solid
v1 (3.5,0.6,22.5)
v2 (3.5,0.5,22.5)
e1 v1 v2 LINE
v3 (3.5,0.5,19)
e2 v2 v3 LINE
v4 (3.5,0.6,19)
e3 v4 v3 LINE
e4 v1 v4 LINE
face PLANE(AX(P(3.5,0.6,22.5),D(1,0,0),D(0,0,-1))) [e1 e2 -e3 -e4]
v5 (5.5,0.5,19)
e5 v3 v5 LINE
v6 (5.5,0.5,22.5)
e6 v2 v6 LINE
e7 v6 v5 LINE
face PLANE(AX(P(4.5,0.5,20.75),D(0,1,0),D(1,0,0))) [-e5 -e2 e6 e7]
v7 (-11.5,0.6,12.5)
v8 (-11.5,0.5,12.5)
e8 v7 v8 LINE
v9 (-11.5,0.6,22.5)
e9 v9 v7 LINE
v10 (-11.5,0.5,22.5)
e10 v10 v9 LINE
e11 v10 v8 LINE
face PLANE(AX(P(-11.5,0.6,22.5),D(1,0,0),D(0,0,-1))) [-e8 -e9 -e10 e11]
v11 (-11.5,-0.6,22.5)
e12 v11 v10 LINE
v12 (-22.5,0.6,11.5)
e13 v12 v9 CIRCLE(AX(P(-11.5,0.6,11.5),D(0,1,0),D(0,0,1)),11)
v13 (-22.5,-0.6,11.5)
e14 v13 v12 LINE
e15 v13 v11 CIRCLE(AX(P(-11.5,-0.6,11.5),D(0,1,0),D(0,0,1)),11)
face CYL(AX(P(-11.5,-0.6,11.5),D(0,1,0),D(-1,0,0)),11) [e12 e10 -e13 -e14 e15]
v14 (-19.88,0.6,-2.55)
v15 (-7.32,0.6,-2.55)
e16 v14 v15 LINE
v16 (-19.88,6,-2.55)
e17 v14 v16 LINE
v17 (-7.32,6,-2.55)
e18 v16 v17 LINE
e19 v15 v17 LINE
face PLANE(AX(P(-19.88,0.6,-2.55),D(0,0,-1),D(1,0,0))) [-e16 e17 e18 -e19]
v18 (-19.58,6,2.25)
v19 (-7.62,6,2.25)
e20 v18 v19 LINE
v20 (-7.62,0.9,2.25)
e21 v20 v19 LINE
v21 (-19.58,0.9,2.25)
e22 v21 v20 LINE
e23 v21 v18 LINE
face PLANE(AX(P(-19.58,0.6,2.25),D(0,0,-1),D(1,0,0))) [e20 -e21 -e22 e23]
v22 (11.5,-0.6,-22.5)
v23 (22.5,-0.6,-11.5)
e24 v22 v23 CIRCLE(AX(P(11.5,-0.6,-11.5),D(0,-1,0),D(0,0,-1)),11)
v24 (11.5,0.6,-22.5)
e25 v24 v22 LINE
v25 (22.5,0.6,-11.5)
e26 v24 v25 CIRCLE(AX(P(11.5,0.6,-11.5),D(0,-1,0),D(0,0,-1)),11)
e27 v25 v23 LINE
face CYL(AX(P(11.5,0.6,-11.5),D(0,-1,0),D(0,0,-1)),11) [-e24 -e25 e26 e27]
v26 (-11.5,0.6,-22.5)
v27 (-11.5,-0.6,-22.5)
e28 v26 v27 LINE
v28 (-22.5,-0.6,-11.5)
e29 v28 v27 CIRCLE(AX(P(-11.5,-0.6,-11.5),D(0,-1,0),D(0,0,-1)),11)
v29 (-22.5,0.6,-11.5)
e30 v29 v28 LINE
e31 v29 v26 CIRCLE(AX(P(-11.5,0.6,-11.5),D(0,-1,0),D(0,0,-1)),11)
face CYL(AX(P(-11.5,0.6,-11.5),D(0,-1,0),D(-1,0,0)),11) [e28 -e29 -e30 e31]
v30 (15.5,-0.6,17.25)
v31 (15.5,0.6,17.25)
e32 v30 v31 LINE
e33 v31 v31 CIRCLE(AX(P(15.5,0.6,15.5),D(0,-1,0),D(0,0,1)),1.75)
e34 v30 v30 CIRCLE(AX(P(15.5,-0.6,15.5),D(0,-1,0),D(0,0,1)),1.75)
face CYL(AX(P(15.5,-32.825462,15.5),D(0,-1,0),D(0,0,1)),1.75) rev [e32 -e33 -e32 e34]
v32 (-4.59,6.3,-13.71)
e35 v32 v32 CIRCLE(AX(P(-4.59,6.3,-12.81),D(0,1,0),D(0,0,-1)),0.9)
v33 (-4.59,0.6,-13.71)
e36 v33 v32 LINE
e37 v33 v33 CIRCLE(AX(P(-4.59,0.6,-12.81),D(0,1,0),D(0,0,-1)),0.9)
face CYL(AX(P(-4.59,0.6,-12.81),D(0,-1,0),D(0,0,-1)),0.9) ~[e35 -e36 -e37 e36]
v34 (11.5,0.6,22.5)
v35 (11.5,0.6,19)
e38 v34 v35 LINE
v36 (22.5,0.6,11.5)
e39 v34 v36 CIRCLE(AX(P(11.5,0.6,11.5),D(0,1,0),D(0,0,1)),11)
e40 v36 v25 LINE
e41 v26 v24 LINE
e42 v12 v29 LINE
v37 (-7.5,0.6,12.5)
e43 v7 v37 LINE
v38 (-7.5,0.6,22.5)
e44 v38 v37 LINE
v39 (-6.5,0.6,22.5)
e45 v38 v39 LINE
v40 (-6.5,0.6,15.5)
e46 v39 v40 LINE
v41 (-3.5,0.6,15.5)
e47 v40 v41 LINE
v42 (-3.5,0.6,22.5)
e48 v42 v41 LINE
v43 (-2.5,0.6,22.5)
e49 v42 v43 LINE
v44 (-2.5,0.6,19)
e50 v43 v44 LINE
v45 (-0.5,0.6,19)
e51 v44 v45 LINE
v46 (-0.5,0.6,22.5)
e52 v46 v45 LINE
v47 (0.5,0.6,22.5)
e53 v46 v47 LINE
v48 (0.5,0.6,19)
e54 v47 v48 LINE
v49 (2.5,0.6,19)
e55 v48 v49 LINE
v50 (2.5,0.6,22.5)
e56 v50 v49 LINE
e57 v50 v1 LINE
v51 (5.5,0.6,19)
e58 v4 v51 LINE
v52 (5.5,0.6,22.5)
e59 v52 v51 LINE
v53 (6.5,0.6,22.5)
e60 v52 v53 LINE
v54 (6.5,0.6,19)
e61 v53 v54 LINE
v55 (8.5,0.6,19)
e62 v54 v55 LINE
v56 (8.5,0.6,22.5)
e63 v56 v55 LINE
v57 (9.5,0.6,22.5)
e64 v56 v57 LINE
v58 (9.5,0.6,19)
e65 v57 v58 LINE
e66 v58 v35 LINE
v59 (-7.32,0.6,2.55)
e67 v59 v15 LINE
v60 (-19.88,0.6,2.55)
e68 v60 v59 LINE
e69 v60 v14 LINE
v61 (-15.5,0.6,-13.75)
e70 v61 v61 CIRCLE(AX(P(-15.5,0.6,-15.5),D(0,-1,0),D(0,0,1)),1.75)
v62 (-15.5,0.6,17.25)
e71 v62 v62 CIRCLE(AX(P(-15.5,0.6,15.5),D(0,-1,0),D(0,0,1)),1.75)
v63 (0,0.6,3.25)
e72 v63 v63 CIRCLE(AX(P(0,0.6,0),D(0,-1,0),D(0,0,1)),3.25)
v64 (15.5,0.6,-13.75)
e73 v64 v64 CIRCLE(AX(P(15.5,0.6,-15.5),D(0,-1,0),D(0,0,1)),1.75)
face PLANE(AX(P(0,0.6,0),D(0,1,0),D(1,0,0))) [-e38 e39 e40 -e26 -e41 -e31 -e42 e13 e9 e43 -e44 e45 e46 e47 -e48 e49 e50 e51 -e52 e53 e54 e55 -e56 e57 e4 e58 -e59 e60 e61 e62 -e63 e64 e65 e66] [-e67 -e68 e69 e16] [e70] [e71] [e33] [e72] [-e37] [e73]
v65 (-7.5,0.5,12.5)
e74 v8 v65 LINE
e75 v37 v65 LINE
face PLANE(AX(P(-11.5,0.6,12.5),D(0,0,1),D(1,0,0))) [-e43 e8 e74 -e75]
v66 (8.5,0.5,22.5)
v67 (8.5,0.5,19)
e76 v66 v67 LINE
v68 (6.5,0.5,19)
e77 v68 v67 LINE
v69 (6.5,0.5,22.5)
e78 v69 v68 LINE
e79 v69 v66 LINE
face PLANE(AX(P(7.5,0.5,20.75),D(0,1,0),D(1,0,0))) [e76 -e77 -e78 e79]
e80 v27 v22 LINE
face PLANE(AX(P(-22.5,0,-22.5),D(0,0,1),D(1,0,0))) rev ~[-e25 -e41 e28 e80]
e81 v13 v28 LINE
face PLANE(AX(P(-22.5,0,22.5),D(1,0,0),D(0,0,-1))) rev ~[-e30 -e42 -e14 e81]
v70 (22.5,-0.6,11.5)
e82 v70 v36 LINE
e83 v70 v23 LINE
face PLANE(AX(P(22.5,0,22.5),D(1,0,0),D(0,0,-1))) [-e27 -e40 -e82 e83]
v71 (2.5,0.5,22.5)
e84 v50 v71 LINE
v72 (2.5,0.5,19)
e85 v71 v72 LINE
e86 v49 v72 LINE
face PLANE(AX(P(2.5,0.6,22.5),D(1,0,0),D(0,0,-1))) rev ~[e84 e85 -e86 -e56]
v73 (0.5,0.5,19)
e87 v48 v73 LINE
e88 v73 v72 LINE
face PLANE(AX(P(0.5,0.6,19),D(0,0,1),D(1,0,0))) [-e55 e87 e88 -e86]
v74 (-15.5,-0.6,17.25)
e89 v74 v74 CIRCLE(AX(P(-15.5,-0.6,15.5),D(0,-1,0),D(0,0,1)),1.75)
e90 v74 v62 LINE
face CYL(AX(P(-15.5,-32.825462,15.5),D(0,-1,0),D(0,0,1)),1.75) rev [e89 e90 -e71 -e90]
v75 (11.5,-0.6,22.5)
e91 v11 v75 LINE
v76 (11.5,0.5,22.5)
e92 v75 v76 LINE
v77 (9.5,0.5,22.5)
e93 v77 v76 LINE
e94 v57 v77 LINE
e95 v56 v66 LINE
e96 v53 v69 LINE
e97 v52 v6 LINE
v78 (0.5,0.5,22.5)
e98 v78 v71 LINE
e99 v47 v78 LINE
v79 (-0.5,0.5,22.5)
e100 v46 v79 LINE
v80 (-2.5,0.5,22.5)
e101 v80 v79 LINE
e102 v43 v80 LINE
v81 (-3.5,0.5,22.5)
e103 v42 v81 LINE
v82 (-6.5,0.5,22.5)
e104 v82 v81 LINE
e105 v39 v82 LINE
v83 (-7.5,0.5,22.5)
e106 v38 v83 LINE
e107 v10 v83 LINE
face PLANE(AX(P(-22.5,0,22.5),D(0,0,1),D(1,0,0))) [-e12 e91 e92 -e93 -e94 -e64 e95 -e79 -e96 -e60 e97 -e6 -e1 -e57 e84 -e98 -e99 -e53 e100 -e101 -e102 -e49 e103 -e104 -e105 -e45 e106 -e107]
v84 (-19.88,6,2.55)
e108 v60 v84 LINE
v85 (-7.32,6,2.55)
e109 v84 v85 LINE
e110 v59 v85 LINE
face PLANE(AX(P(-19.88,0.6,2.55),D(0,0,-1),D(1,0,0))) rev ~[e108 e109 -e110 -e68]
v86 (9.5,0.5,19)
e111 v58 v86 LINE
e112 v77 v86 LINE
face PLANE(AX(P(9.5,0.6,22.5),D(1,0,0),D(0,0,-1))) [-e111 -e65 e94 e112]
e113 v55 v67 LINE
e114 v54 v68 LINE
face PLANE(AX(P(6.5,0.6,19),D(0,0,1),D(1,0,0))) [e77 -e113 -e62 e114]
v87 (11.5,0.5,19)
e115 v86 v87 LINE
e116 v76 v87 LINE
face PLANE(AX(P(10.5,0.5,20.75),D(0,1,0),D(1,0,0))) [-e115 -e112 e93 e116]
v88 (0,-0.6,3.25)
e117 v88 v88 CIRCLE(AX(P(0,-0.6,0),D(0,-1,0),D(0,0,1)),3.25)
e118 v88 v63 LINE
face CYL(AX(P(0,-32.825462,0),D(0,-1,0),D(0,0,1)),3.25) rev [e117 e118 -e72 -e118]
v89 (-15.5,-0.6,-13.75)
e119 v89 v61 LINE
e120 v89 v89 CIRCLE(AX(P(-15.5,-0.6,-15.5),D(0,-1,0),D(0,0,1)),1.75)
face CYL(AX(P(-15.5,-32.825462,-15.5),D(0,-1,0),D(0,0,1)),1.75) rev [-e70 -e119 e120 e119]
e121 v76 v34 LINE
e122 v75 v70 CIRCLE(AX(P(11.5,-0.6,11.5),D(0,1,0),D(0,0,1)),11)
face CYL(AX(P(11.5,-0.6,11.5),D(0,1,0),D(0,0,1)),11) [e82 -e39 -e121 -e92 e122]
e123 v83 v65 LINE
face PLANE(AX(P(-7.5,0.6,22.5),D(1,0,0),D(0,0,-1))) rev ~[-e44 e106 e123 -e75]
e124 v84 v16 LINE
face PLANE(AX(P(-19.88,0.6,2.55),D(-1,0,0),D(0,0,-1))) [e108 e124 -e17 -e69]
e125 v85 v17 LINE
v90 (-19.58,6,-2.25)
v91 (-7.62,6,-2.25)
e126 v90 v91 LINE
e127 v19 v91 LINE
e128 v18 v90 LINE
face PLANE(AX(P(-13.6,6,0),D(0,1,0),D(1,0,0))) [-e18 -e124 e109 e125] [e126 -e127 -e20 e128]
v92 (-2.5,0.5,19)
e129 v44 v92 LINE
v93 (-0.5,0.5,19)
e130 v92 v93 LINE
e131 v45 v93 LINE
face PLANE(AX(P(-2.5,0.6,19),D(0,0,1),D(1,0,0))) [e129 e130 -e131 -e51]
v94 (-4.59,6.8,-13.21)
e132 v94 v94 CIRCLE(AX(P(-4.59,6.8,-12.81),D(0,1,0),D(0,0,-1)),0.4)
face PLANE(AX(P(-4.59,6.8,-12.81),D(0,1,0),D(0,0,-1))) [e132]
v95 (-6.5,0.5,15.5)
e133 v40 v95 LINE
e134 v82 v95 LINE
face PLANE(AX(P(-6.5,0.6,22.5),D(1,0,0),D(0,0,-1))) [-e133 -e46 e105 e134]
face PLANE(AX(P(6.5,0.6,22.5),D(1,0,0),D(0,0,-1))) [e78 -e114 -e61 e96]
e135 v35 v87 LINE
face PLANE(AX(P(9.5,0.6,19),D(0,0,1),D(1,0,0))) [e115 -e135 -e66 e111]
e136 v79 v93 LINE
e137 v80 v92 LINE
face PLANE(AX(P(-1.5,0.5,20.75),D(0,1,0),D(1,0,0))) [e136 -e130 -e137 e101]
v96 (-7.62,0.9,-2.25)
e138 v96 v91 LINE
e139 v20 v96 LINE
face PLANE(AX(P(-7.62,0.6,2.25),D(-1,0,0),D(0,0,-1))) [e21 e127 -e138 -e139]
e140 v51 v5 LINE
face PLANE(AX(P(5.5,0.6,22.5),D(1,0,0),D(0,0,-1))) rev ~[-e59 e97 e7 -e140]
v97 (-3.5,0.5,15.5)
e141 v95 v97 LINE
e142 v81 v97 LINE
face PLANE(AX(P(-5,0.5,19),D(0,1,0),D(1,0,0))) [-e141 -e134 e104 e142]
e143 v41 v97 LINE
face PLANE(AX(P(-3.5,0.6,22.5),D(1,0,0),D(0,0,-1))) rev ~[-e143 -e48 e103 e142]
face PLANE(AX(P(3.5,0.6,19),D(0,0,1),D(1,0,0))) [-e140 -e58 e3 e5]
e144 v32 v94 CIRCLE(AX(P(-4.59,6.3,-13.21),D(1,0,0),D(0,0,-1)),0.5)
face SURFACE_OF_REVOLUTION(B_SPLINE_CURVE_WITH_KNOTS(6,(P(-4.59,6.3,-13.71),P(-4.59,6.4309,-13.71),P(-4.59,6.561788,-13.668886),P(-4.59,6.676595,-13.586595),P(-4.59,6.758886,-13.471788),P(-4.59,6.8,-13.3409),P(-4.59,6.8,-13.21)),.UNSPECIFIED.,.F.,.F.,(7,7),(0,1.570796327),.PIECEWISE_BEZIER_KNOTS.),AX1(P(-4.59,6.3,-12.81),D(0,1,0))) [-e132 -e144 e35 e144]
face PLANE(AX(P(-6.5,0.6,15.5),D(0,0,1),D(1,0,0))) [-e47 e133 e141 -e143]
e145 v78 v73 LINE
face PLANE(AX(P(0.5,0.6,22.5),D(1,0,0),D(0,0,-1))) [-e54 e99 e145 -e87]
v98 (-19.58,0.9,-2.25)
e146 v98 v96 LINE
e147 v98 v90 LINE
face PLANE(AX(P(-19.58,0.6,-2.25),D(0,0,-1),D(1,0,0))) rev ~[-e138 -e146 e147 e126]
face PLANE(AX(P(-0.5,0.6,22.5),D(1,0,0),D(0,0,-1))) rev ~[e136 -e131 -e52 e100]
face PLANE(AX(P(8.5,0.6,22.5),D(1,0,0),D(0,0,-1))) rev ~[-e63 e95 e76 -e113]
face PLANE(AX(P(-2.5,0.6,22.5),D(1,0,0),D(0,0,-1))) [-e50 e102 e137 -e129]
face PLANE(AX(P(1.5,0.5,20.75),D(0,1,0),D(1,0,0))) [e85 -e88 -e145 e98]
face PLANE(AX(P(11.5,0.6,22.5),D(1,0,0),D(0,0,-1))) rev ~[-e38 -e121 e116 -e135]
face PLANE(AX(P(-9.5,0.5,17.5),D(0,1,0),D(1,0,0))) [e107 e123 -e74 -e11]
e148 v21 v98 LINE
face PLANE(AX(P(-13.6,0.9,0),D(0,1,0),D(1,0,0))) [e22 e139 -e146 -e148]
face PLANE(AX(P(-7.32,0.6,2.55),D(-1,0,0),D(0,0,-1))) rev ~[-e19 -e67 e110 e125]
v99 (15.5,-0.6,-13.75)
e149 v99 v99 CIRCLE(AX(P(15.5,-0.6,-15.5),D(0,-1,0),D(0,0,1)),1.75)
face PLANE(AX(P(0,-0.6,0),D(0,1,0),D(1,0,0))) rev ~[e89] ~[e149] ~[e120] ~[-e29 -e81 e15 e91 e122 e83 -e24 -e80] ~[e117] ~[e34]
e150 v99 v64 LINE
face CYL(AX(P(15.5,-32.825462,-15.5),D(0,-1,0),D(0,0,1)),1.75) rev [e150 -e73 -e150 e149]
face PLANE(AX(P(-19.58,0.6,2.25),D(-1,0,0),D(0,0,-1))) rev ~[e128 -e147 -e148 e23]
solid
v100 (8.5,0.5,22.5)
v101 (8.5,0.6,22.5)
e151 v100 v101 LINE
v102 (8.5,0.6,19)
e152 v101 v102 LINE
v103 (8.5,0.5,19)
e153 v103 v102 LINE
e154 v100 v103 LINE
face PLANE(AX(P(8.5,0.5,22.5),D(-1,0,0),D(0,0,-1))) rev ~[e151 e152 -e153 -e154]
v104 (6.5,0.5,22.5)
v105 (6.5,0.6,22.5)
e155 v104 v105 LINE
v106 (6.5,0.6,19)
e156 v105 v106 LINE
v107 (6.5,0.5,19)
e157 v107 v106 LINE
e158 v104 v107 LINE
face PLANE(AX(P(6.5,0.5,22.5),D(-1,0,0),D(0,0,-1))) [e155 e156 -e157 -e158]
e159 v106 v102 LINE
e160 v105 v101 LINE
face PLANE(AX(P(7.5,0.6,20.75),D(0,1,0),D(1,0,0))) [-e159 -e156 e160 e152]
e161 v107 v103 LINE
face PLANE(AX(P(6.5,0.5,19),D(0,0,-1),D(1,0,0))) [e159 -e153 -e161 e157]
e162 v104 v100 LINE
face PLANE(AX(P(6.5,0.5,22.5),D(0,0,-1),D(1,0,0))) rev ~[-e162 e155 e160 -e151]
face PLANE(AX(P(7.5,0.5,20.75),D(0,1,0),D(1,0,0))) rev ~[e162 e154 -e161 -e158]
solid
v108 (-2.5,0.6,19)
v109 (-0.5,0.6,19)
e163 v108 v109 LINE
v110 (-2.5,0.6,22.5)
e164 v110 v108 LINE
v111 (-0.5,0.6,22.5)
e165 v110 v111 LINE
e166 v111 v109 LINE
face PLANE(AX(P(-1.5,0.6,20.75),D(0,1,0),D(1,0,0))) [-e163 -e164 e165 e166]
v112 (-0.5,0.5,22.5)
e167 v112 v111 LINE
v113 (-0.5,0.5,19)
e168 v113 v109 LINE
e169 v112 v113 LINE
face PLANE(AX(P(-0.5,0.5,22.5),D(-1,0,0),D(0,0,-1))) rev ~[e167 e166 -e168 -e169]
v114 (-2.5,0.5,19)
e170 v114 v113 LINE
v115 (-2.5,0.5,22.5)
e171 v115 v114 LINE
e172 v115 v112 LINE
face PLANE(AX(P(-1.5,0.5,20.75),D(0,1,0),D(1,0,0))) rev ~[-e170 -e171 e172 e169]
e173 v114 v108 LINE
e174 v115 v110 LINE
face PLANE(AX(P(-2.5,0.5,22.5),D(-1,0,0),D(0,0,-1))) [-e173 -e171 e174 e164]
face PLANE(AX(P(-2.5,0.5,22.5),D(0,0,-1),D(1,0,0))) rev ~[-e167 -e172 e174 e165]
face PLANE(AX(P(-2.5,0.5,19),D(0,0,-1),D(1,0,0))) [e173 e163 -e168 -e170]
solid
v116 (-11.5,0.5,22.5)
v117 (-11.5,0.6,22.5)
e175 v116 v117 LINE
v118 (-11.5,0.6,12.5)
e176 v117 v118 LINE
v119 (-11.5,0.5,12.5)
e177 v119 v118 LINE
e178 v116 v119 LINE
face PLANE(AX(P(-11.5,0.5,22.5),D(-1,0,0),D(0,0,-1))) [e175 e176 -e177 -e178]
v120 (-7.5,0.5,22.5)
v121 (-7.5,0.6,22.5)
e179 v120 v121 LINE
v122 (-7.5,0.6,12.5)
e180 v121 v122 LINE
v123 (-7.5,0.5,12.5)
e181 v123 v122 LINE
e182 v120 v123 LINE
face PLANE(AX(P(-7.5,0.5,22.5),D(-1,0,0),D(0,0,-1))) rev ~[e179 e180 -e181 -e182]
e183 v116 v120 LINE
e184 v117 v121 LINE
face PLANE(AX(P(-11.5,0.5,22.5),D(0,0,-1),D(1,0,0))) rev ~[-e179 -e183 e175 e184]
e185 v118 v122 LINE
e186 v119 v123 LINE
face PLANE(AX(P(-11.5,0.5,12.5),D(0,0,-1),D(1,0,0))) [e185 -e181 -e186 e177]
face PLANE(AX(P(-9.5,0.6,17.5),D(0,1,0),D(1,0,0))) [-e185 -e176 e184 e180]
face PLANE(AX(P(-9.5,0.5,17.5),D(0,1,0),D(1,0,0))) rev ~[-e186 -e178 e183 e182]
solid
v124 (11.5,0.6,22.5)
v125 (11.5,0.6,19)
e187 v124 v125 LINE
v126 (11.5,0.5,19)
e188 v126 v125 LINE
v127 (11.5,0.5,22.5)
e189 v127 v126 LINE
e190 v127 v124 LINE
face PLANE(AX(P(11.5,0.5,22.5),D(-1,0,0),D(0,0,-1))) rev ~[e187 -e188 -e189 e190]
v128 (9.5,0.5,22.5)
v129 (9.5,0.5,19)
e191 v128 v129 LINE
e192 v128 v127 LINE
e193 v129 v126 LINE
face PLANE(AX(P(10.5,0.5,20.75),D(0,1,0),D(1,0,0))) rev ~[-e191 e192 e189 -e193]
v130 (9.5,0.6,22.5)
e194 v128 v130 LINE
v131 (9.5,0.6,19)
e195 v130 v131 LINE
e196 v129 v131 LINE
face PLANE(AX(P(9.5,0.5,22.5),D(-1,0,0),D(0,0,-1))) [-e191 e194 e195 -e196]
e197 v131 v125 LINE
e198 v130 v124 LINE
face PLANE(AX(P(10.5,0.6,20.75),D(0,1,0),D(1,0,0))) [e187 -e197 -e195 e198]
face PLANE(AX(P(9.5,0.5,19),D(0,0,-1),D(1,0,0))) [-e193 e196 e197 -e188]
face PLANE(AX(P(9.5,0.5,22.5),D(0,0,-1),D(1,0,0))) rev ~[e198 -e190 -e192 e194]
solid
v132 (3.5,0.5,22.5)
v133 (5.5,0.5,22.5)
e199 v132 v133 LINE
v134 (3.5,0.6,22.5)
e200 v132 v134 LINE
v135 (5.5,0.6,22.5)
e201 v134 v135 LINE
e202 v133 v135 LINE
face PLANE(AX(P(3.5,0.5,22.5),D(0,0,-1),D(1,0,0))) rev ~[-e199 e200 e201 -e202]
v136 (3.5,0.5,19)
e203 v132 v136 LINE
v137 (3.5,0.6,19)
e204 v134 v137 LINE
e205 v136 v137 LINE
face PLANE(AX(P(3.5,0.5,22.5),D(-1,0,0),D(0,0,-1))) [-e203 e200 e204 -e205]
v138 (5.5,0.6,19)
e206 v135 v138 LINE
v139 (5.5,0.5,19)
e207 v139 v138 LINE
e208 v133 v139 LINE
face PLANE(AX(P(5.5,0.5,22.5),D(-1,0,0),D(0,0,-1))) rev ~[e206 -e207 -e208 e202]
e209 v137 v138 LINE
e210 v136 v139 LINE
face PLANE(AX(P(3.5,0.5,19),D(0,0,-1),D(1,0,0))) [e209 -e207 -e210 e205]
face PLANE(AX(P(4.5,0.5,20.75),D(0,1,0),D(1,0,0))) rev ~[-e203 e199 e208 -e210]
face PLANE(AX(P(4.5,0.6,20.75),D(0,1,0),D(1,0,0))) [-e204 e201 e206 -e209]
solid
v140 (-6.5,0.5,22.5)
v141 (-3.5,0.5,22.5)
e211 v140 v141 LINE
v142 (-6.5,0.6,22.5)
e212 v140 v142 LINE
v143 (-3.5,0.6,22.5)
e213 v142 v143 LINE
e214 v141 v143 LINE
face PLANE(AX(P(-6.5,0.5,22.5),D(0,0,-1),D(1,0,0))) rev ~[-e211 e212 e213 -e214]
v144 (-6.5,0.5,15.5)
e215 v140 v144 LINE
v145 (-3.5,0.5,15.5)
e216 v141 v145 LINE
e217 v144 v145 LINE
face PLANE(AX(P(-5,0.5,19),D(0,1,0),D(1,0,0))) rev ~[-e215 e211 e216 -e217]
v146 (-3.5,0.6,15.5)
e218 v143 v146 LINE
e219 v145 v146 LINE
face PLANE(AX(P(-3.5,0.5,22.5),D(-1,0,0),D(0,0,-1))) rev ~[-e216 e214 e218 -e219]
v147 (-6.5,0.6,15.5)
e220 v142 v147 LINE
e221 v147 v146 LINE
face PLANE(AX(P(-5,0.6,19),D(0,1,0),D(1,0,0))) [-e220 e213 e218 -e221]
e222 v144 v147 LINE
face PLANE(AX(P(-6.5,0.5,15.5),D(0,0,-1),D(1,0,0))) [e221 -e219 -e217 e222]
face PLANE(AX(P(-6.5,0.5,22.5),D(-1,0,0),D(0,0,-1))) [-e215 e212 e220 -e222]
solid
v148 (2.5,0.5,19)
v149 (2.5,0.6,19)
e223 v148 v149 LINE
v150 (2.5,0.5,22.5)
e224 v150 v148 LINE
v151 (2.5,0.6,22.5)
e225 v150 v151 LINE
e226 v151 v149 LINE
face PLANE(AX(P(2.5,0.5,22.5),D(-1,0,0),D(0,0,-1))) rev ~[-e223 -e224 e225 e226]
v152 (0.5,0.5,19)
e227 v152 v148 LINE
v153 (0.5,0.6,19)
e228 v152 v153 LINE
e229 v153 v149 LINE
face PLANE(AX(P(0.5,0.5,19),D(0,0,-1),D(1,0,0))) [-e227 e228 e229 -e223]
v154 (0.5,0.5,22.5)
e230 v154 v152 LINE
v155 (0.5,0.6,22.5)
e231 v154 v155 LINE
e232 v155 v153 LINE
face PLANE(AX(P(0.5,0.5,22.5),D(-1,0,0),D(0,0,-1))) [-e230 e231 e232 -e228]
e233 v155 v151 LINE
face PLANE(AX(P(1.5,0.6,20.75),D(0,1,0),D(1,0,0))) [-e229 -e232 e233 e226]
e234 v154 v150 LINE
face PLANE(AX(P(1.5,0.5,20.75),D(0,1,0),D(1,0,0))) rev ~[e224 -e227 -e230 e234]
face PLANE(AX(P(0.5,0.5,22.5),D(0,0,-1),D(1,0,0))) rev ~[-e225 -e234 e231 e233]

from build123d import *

# Parameters (mm, degrees)
SKETCH1_W               = 45
SKETCH1_H               = 45
BOSS_EXTRUDE1_DEPTH     = 0.6
CUT_EXTRUDE1_DEPTH      = 32.825461505
CUT_EXTRUDE1_DEPTH_BACK = 32.825461505
SKETCH3_R               = 3.25
FILLET1_R               = 11
CUT_EXTRUDE2_DEPTH      = 32.825461505
CUT_EXTRUDE2_DEPTH_BACK = 32.825461505
SKETCH5_R               = 1.75
SKETCH6_W               = 12.56
SKETCH6_H               = 5.1
SKETCH6_W_2             = 11.96
SKETCH6_H_2             = 4.5
EXTRUDE_THIN1_DEPTH     = 5.4
SKETCH7_W               = 11.96
SKETCH7_H               = 4.5
BOSS_EXTRUDE2_DEPTH     = 0.3
SKETCH8_W               = 2
SKETCH8_H               = 3.5
SKETCH8_W_2             = 4
SKETCH8_H_2             = 10
SKETCH8_W_3             = 3
SKETCH8_H_3             = 7
CUT_EXTRUDE3_DEPTH      = 0.1
SKETCH9_W               = 2
SKETCH9_H               = 3.5
BOSS_EXTRUDE3_DEPTH     = 0.1
BOSS_EXTRUDE3_2_DEPTH   = 0.1
BOSS_EXTRUDE3_3_DEPTH   = 0.1
BOSS_EXTRUDE3_4_DEPTH   = 0.1
BOSS_EXTRUDE3_5_DEPTH   = 0.1
SKETCH9_W_2             = 3
SKETCH9_H_2             = 7
BOSS_EXTRUDE3_6_DEPTH   = 0.1
SKETCH9_W_3             = 4
SKETCH9_H_3             = 10
BOSS_EXTRUDE3_7_DEPTH   = 0.1
SKETCH10_R              = 0.9
BOSS_EXTRUDE4_DEPTH     = 6.2
FILLET2_R               = 0.5


with BuildPart() as part:
    # Sketch1 → Boss-Extrude1 (new, symmetric)
    with BuildSketch(Plane(origin=(0, 0, 0), x_dir=(1, 0, 0), z_dir=(0, 1, 0))):
        Rectangle(SKETCH1_W, SKETCH1_H)
    extrude(amount=BOSS_EXTRUDE1_DEPTH, both=True)

    # Sketch3 → Cut-Extrude1 (cut, two sides: drawn at the far end of the back side and taken through both)
    with BuildSketch(Plane(origin=(0, 0, 0), x_dir=(1, 0, 0), z_dir=(0, 1, 0)).offset(-CUT_EXTRUDE1_DEPTH_BACK)):
        with Locations(Location((0, 0, 0), (0, 0, 270))):
            Circle(SKETCH3_R)
    extrude(amount=CUT_EXTRUDE1_DEPTH + CUT_EXTRUDE1_DEPTH_BACK, mode=Mode.SUBTRACT)

    # Fillet1
    fillet1_edges = [part.edges().sort_by_distance(p)[0] for p in [
        (22.5, 0, 22.5),
        (-22.5, 0, 22.5),
        (-22.5, 0, -22.5),
        (22.5, 0, -22.5),
    ]]
    fillet(fillet1_edges, radius=FILLET1_R)

    # Sketch5 → Cut-Extrude2 (cut, two sides: drawn at the far end of the back side and taken through both)
    with BuildSketch(Plane(origin=(0, 0, 0), x_dir=(1, 0, 0), z_dir=(0, 1, 0)).offset(-CUT_EXTRUDE2_DEPTH_BACK)):
        with Locations(Location((-15.5, 15.5, 0), (0, 0, 270))):
            Circle(SKETCH5_R)
        with Locations(Location((15.5, 15.5, 0), (0, 0, 270))):
            Circle(SKETCH5_R)
        with Locations(Location((15.5, -15.5, 0), (0, 0, 270))):
            Circle(SKETCH5_R)
        with Locations(Location((-15.5, -15.5, 0), (0, 0, 270))):
            Circle(SKETCH5_R)
    extrude(amount=CUT_EXTRUDE2_DEPTH + CUT_EXTRUDE2_DEPTH_BACK, mode=Mode.SUBTRACT)

    # Sketch6 → Extrude-Thin1 (add)
    with BuildSketch(Plane(origin=(0, 0.6, 0), x_dir=(1, 0, 0), z_dir=(0, 1, 0))):
        with Locations((-13.6, 0)):
            Rectangle(SKETCH6_W, SKETCH6_H)
        with Locations((-13.6, 0)):
            Rectangle(SKETCH6_W_2, SKETCH6_H_2, mode=Mode.SUBTRACT)
    extrude(amount=EXTRUDE_THIN1_DEPTH)

    # Sketch7 → Boss-Extrude2 (add)
    with BuildSketch(Plane(origin=(0, 0.6, 0), x_dir=(1, 0, 0), z_dir=(0, 1, 0))):
        with Locations((-13.6, 0)):
            Rectangle(SKETCH7_W, SKETCH7_H)
    extrude(amount=BOSS_EXTRUDE2_DEPTH)

    # Sketch8 → Cut-Extrude3 (cut)
    with BuildSketch(Plane(origin=(0, 0.6, 0), x_dir=(1, 0, 0), z_dir=(0, 1, 0))):
        with Locations((-1.5, -20.75)):
            Rectangle(SKETCH8_W, SKETCH8_H)
        with Locations((1.5, -20.75)):
            Rectangle(SKETCH8_W, SKETCH8_H)
        with Locations((4.5, -20.75)):
            Rectangle(SKETCH8_W, SKETCH8_H)
        with Locations((7.5, -20.75)):
            Rectangle(SKETCH8_W, SKETCH8_H)
        with Locations((10.5, -20.75)):
            Rectangle(SKETCH8_W, SKETCH8_H)
        with Locations((-9.5, -17.5)):
            Rectangle(SKETCH8_W_2, SKETCH8_H_2)
        with Locations((-5, -19)):
            Rectangle(SKETCH8_W_3, SKETCH8_H_3)
    extrude(amount=-CUT_EXTRUDE3_DEPTH, mode=Mode.SUBTRACT)

    # Sketch10 → Boss-Extrude4 (add)
    with BuildSketch(Plane(origin=(0, 0.6, 0), x_dir=(1, 0, 0), z_dir=(0, 1, 0))):
        with Locations(Location((-4.59, 12.81, 0), (0, 0, 90))):
            Circle(SKETCH10_R)
    extrude(amount=BOSS_EXTRUDE4_DEPTH)

    # Fillet2
    fillet2_edges = [part.edges().sort_by_distance(p)[0] for p in [
        (-4.59, 6.8, -11.91),
    ]]
    fillet(fillet2_edges, radius=FILLET2_R)


with BuildPart() as body_2:
    # Sketch9 → Boss-Extrude3 (new body)
    with BuildSketch(Plane(origin=(0, 0.5, 0), x_dir=(1, 0, 0), z_dir=(0, 1, 0))):
        with Locations((10.5, -20.75)):
            Rectangle(SKETCH9_W, SKETCH9_H)
    extrude(amount=BOSS_EXTRUDE3_DEPTH)


with BuildPart() as body_3:
    # Sketch9 → Boss-Extrude3 2 (new body)
    with BuildSketch(Plane(origin=(0, 0.5, 0), x_dir=(1, 0, 0), z_dir=(0, 1, 0))):
        with Locations((7.5, -20.75)):
            Rectangle(SKETCH9_W, SKETCH9_H)
    extrude(amount=BOSS_EXTRUDE3_2_DEPTH)


with BuildPart() as body_4:
    # Sketch9 → Boss-Extrude3 3 (new body)
    with BuildSketch(Plane(origin=(0, 0.5, 0), x_dir=(1, 0, 0), z_dir=(0, 1, 0))):
        with Locations((4.5, -20.75)):
            Rectangle(SKETCH9_W, SKETCH9_H)
    extrude(amount=BOSS_EXTRUDE3_3_DEPTH)


with BuildPart() as body_5:
    # Sketch9 → Boss-Extrude3 4 (new body)
    with BuildSketch(Plane(origin=(0, 0.5, 0), x_dir=(1, 0, 0), z_dir=(0, 1, 0))):
        with Locations((1.5, -20.75)):
            Rectangle(SKETCH9_W, SKETCH9_H)
    extrude(amount=BOSS_EXTRUDE3_4_DEPTH)


with BuildPart() as body_6:
    # Sketch9 → Boss-Extrude3 5 (new body)
    with BuildSketch(Plane(origin=(0, 0.5, 0), x_dir=(1, 0, 0), z_dir=(0, 1, 0))):
        with Locations((-1.5, -20.75)):
            Rectangle(SKETCH9_W, SKETCH9_H)
    extrude(amount=BOSS_EXTRUDE3_5_DEPTH)


with BuildPart() as body_7:
    # Sketch9 → Boss-Extrude3 6 (new body)
    with BuildSketch(Plane(origin=(0, 0.5, 0), x_dir=(1, 0, 0), z_dir=(0, 1, 0))):
        with Locations((-5, -19)):
            Rectangle(SKETCH9_W_2, SKETCH9_H_2)
    extrude(amount=BOSS_EXTRUDE3_6_DEPTH)


with BuildPart() as body_8:
    # Sketch9 → Boss-Extrude3 7 (new body)
    with BuildSketch(Plane(origin=(0, 0.5, 0), x_dir=(1, 0, 0), z_dir=(0, 1, 0))):
        with Locations((-9.5, -17.5)):
            Rectangle(SKETCH9_W_3, SKETCH9_H_3)
    extrude(amount=BOSS_EXTRUDE3_7_DEPTH)


solid = Compound([part.part, body_2.part, body_3.part, body_4.part, body_5.part, body_6.part, body_7.part, body_8.part])
